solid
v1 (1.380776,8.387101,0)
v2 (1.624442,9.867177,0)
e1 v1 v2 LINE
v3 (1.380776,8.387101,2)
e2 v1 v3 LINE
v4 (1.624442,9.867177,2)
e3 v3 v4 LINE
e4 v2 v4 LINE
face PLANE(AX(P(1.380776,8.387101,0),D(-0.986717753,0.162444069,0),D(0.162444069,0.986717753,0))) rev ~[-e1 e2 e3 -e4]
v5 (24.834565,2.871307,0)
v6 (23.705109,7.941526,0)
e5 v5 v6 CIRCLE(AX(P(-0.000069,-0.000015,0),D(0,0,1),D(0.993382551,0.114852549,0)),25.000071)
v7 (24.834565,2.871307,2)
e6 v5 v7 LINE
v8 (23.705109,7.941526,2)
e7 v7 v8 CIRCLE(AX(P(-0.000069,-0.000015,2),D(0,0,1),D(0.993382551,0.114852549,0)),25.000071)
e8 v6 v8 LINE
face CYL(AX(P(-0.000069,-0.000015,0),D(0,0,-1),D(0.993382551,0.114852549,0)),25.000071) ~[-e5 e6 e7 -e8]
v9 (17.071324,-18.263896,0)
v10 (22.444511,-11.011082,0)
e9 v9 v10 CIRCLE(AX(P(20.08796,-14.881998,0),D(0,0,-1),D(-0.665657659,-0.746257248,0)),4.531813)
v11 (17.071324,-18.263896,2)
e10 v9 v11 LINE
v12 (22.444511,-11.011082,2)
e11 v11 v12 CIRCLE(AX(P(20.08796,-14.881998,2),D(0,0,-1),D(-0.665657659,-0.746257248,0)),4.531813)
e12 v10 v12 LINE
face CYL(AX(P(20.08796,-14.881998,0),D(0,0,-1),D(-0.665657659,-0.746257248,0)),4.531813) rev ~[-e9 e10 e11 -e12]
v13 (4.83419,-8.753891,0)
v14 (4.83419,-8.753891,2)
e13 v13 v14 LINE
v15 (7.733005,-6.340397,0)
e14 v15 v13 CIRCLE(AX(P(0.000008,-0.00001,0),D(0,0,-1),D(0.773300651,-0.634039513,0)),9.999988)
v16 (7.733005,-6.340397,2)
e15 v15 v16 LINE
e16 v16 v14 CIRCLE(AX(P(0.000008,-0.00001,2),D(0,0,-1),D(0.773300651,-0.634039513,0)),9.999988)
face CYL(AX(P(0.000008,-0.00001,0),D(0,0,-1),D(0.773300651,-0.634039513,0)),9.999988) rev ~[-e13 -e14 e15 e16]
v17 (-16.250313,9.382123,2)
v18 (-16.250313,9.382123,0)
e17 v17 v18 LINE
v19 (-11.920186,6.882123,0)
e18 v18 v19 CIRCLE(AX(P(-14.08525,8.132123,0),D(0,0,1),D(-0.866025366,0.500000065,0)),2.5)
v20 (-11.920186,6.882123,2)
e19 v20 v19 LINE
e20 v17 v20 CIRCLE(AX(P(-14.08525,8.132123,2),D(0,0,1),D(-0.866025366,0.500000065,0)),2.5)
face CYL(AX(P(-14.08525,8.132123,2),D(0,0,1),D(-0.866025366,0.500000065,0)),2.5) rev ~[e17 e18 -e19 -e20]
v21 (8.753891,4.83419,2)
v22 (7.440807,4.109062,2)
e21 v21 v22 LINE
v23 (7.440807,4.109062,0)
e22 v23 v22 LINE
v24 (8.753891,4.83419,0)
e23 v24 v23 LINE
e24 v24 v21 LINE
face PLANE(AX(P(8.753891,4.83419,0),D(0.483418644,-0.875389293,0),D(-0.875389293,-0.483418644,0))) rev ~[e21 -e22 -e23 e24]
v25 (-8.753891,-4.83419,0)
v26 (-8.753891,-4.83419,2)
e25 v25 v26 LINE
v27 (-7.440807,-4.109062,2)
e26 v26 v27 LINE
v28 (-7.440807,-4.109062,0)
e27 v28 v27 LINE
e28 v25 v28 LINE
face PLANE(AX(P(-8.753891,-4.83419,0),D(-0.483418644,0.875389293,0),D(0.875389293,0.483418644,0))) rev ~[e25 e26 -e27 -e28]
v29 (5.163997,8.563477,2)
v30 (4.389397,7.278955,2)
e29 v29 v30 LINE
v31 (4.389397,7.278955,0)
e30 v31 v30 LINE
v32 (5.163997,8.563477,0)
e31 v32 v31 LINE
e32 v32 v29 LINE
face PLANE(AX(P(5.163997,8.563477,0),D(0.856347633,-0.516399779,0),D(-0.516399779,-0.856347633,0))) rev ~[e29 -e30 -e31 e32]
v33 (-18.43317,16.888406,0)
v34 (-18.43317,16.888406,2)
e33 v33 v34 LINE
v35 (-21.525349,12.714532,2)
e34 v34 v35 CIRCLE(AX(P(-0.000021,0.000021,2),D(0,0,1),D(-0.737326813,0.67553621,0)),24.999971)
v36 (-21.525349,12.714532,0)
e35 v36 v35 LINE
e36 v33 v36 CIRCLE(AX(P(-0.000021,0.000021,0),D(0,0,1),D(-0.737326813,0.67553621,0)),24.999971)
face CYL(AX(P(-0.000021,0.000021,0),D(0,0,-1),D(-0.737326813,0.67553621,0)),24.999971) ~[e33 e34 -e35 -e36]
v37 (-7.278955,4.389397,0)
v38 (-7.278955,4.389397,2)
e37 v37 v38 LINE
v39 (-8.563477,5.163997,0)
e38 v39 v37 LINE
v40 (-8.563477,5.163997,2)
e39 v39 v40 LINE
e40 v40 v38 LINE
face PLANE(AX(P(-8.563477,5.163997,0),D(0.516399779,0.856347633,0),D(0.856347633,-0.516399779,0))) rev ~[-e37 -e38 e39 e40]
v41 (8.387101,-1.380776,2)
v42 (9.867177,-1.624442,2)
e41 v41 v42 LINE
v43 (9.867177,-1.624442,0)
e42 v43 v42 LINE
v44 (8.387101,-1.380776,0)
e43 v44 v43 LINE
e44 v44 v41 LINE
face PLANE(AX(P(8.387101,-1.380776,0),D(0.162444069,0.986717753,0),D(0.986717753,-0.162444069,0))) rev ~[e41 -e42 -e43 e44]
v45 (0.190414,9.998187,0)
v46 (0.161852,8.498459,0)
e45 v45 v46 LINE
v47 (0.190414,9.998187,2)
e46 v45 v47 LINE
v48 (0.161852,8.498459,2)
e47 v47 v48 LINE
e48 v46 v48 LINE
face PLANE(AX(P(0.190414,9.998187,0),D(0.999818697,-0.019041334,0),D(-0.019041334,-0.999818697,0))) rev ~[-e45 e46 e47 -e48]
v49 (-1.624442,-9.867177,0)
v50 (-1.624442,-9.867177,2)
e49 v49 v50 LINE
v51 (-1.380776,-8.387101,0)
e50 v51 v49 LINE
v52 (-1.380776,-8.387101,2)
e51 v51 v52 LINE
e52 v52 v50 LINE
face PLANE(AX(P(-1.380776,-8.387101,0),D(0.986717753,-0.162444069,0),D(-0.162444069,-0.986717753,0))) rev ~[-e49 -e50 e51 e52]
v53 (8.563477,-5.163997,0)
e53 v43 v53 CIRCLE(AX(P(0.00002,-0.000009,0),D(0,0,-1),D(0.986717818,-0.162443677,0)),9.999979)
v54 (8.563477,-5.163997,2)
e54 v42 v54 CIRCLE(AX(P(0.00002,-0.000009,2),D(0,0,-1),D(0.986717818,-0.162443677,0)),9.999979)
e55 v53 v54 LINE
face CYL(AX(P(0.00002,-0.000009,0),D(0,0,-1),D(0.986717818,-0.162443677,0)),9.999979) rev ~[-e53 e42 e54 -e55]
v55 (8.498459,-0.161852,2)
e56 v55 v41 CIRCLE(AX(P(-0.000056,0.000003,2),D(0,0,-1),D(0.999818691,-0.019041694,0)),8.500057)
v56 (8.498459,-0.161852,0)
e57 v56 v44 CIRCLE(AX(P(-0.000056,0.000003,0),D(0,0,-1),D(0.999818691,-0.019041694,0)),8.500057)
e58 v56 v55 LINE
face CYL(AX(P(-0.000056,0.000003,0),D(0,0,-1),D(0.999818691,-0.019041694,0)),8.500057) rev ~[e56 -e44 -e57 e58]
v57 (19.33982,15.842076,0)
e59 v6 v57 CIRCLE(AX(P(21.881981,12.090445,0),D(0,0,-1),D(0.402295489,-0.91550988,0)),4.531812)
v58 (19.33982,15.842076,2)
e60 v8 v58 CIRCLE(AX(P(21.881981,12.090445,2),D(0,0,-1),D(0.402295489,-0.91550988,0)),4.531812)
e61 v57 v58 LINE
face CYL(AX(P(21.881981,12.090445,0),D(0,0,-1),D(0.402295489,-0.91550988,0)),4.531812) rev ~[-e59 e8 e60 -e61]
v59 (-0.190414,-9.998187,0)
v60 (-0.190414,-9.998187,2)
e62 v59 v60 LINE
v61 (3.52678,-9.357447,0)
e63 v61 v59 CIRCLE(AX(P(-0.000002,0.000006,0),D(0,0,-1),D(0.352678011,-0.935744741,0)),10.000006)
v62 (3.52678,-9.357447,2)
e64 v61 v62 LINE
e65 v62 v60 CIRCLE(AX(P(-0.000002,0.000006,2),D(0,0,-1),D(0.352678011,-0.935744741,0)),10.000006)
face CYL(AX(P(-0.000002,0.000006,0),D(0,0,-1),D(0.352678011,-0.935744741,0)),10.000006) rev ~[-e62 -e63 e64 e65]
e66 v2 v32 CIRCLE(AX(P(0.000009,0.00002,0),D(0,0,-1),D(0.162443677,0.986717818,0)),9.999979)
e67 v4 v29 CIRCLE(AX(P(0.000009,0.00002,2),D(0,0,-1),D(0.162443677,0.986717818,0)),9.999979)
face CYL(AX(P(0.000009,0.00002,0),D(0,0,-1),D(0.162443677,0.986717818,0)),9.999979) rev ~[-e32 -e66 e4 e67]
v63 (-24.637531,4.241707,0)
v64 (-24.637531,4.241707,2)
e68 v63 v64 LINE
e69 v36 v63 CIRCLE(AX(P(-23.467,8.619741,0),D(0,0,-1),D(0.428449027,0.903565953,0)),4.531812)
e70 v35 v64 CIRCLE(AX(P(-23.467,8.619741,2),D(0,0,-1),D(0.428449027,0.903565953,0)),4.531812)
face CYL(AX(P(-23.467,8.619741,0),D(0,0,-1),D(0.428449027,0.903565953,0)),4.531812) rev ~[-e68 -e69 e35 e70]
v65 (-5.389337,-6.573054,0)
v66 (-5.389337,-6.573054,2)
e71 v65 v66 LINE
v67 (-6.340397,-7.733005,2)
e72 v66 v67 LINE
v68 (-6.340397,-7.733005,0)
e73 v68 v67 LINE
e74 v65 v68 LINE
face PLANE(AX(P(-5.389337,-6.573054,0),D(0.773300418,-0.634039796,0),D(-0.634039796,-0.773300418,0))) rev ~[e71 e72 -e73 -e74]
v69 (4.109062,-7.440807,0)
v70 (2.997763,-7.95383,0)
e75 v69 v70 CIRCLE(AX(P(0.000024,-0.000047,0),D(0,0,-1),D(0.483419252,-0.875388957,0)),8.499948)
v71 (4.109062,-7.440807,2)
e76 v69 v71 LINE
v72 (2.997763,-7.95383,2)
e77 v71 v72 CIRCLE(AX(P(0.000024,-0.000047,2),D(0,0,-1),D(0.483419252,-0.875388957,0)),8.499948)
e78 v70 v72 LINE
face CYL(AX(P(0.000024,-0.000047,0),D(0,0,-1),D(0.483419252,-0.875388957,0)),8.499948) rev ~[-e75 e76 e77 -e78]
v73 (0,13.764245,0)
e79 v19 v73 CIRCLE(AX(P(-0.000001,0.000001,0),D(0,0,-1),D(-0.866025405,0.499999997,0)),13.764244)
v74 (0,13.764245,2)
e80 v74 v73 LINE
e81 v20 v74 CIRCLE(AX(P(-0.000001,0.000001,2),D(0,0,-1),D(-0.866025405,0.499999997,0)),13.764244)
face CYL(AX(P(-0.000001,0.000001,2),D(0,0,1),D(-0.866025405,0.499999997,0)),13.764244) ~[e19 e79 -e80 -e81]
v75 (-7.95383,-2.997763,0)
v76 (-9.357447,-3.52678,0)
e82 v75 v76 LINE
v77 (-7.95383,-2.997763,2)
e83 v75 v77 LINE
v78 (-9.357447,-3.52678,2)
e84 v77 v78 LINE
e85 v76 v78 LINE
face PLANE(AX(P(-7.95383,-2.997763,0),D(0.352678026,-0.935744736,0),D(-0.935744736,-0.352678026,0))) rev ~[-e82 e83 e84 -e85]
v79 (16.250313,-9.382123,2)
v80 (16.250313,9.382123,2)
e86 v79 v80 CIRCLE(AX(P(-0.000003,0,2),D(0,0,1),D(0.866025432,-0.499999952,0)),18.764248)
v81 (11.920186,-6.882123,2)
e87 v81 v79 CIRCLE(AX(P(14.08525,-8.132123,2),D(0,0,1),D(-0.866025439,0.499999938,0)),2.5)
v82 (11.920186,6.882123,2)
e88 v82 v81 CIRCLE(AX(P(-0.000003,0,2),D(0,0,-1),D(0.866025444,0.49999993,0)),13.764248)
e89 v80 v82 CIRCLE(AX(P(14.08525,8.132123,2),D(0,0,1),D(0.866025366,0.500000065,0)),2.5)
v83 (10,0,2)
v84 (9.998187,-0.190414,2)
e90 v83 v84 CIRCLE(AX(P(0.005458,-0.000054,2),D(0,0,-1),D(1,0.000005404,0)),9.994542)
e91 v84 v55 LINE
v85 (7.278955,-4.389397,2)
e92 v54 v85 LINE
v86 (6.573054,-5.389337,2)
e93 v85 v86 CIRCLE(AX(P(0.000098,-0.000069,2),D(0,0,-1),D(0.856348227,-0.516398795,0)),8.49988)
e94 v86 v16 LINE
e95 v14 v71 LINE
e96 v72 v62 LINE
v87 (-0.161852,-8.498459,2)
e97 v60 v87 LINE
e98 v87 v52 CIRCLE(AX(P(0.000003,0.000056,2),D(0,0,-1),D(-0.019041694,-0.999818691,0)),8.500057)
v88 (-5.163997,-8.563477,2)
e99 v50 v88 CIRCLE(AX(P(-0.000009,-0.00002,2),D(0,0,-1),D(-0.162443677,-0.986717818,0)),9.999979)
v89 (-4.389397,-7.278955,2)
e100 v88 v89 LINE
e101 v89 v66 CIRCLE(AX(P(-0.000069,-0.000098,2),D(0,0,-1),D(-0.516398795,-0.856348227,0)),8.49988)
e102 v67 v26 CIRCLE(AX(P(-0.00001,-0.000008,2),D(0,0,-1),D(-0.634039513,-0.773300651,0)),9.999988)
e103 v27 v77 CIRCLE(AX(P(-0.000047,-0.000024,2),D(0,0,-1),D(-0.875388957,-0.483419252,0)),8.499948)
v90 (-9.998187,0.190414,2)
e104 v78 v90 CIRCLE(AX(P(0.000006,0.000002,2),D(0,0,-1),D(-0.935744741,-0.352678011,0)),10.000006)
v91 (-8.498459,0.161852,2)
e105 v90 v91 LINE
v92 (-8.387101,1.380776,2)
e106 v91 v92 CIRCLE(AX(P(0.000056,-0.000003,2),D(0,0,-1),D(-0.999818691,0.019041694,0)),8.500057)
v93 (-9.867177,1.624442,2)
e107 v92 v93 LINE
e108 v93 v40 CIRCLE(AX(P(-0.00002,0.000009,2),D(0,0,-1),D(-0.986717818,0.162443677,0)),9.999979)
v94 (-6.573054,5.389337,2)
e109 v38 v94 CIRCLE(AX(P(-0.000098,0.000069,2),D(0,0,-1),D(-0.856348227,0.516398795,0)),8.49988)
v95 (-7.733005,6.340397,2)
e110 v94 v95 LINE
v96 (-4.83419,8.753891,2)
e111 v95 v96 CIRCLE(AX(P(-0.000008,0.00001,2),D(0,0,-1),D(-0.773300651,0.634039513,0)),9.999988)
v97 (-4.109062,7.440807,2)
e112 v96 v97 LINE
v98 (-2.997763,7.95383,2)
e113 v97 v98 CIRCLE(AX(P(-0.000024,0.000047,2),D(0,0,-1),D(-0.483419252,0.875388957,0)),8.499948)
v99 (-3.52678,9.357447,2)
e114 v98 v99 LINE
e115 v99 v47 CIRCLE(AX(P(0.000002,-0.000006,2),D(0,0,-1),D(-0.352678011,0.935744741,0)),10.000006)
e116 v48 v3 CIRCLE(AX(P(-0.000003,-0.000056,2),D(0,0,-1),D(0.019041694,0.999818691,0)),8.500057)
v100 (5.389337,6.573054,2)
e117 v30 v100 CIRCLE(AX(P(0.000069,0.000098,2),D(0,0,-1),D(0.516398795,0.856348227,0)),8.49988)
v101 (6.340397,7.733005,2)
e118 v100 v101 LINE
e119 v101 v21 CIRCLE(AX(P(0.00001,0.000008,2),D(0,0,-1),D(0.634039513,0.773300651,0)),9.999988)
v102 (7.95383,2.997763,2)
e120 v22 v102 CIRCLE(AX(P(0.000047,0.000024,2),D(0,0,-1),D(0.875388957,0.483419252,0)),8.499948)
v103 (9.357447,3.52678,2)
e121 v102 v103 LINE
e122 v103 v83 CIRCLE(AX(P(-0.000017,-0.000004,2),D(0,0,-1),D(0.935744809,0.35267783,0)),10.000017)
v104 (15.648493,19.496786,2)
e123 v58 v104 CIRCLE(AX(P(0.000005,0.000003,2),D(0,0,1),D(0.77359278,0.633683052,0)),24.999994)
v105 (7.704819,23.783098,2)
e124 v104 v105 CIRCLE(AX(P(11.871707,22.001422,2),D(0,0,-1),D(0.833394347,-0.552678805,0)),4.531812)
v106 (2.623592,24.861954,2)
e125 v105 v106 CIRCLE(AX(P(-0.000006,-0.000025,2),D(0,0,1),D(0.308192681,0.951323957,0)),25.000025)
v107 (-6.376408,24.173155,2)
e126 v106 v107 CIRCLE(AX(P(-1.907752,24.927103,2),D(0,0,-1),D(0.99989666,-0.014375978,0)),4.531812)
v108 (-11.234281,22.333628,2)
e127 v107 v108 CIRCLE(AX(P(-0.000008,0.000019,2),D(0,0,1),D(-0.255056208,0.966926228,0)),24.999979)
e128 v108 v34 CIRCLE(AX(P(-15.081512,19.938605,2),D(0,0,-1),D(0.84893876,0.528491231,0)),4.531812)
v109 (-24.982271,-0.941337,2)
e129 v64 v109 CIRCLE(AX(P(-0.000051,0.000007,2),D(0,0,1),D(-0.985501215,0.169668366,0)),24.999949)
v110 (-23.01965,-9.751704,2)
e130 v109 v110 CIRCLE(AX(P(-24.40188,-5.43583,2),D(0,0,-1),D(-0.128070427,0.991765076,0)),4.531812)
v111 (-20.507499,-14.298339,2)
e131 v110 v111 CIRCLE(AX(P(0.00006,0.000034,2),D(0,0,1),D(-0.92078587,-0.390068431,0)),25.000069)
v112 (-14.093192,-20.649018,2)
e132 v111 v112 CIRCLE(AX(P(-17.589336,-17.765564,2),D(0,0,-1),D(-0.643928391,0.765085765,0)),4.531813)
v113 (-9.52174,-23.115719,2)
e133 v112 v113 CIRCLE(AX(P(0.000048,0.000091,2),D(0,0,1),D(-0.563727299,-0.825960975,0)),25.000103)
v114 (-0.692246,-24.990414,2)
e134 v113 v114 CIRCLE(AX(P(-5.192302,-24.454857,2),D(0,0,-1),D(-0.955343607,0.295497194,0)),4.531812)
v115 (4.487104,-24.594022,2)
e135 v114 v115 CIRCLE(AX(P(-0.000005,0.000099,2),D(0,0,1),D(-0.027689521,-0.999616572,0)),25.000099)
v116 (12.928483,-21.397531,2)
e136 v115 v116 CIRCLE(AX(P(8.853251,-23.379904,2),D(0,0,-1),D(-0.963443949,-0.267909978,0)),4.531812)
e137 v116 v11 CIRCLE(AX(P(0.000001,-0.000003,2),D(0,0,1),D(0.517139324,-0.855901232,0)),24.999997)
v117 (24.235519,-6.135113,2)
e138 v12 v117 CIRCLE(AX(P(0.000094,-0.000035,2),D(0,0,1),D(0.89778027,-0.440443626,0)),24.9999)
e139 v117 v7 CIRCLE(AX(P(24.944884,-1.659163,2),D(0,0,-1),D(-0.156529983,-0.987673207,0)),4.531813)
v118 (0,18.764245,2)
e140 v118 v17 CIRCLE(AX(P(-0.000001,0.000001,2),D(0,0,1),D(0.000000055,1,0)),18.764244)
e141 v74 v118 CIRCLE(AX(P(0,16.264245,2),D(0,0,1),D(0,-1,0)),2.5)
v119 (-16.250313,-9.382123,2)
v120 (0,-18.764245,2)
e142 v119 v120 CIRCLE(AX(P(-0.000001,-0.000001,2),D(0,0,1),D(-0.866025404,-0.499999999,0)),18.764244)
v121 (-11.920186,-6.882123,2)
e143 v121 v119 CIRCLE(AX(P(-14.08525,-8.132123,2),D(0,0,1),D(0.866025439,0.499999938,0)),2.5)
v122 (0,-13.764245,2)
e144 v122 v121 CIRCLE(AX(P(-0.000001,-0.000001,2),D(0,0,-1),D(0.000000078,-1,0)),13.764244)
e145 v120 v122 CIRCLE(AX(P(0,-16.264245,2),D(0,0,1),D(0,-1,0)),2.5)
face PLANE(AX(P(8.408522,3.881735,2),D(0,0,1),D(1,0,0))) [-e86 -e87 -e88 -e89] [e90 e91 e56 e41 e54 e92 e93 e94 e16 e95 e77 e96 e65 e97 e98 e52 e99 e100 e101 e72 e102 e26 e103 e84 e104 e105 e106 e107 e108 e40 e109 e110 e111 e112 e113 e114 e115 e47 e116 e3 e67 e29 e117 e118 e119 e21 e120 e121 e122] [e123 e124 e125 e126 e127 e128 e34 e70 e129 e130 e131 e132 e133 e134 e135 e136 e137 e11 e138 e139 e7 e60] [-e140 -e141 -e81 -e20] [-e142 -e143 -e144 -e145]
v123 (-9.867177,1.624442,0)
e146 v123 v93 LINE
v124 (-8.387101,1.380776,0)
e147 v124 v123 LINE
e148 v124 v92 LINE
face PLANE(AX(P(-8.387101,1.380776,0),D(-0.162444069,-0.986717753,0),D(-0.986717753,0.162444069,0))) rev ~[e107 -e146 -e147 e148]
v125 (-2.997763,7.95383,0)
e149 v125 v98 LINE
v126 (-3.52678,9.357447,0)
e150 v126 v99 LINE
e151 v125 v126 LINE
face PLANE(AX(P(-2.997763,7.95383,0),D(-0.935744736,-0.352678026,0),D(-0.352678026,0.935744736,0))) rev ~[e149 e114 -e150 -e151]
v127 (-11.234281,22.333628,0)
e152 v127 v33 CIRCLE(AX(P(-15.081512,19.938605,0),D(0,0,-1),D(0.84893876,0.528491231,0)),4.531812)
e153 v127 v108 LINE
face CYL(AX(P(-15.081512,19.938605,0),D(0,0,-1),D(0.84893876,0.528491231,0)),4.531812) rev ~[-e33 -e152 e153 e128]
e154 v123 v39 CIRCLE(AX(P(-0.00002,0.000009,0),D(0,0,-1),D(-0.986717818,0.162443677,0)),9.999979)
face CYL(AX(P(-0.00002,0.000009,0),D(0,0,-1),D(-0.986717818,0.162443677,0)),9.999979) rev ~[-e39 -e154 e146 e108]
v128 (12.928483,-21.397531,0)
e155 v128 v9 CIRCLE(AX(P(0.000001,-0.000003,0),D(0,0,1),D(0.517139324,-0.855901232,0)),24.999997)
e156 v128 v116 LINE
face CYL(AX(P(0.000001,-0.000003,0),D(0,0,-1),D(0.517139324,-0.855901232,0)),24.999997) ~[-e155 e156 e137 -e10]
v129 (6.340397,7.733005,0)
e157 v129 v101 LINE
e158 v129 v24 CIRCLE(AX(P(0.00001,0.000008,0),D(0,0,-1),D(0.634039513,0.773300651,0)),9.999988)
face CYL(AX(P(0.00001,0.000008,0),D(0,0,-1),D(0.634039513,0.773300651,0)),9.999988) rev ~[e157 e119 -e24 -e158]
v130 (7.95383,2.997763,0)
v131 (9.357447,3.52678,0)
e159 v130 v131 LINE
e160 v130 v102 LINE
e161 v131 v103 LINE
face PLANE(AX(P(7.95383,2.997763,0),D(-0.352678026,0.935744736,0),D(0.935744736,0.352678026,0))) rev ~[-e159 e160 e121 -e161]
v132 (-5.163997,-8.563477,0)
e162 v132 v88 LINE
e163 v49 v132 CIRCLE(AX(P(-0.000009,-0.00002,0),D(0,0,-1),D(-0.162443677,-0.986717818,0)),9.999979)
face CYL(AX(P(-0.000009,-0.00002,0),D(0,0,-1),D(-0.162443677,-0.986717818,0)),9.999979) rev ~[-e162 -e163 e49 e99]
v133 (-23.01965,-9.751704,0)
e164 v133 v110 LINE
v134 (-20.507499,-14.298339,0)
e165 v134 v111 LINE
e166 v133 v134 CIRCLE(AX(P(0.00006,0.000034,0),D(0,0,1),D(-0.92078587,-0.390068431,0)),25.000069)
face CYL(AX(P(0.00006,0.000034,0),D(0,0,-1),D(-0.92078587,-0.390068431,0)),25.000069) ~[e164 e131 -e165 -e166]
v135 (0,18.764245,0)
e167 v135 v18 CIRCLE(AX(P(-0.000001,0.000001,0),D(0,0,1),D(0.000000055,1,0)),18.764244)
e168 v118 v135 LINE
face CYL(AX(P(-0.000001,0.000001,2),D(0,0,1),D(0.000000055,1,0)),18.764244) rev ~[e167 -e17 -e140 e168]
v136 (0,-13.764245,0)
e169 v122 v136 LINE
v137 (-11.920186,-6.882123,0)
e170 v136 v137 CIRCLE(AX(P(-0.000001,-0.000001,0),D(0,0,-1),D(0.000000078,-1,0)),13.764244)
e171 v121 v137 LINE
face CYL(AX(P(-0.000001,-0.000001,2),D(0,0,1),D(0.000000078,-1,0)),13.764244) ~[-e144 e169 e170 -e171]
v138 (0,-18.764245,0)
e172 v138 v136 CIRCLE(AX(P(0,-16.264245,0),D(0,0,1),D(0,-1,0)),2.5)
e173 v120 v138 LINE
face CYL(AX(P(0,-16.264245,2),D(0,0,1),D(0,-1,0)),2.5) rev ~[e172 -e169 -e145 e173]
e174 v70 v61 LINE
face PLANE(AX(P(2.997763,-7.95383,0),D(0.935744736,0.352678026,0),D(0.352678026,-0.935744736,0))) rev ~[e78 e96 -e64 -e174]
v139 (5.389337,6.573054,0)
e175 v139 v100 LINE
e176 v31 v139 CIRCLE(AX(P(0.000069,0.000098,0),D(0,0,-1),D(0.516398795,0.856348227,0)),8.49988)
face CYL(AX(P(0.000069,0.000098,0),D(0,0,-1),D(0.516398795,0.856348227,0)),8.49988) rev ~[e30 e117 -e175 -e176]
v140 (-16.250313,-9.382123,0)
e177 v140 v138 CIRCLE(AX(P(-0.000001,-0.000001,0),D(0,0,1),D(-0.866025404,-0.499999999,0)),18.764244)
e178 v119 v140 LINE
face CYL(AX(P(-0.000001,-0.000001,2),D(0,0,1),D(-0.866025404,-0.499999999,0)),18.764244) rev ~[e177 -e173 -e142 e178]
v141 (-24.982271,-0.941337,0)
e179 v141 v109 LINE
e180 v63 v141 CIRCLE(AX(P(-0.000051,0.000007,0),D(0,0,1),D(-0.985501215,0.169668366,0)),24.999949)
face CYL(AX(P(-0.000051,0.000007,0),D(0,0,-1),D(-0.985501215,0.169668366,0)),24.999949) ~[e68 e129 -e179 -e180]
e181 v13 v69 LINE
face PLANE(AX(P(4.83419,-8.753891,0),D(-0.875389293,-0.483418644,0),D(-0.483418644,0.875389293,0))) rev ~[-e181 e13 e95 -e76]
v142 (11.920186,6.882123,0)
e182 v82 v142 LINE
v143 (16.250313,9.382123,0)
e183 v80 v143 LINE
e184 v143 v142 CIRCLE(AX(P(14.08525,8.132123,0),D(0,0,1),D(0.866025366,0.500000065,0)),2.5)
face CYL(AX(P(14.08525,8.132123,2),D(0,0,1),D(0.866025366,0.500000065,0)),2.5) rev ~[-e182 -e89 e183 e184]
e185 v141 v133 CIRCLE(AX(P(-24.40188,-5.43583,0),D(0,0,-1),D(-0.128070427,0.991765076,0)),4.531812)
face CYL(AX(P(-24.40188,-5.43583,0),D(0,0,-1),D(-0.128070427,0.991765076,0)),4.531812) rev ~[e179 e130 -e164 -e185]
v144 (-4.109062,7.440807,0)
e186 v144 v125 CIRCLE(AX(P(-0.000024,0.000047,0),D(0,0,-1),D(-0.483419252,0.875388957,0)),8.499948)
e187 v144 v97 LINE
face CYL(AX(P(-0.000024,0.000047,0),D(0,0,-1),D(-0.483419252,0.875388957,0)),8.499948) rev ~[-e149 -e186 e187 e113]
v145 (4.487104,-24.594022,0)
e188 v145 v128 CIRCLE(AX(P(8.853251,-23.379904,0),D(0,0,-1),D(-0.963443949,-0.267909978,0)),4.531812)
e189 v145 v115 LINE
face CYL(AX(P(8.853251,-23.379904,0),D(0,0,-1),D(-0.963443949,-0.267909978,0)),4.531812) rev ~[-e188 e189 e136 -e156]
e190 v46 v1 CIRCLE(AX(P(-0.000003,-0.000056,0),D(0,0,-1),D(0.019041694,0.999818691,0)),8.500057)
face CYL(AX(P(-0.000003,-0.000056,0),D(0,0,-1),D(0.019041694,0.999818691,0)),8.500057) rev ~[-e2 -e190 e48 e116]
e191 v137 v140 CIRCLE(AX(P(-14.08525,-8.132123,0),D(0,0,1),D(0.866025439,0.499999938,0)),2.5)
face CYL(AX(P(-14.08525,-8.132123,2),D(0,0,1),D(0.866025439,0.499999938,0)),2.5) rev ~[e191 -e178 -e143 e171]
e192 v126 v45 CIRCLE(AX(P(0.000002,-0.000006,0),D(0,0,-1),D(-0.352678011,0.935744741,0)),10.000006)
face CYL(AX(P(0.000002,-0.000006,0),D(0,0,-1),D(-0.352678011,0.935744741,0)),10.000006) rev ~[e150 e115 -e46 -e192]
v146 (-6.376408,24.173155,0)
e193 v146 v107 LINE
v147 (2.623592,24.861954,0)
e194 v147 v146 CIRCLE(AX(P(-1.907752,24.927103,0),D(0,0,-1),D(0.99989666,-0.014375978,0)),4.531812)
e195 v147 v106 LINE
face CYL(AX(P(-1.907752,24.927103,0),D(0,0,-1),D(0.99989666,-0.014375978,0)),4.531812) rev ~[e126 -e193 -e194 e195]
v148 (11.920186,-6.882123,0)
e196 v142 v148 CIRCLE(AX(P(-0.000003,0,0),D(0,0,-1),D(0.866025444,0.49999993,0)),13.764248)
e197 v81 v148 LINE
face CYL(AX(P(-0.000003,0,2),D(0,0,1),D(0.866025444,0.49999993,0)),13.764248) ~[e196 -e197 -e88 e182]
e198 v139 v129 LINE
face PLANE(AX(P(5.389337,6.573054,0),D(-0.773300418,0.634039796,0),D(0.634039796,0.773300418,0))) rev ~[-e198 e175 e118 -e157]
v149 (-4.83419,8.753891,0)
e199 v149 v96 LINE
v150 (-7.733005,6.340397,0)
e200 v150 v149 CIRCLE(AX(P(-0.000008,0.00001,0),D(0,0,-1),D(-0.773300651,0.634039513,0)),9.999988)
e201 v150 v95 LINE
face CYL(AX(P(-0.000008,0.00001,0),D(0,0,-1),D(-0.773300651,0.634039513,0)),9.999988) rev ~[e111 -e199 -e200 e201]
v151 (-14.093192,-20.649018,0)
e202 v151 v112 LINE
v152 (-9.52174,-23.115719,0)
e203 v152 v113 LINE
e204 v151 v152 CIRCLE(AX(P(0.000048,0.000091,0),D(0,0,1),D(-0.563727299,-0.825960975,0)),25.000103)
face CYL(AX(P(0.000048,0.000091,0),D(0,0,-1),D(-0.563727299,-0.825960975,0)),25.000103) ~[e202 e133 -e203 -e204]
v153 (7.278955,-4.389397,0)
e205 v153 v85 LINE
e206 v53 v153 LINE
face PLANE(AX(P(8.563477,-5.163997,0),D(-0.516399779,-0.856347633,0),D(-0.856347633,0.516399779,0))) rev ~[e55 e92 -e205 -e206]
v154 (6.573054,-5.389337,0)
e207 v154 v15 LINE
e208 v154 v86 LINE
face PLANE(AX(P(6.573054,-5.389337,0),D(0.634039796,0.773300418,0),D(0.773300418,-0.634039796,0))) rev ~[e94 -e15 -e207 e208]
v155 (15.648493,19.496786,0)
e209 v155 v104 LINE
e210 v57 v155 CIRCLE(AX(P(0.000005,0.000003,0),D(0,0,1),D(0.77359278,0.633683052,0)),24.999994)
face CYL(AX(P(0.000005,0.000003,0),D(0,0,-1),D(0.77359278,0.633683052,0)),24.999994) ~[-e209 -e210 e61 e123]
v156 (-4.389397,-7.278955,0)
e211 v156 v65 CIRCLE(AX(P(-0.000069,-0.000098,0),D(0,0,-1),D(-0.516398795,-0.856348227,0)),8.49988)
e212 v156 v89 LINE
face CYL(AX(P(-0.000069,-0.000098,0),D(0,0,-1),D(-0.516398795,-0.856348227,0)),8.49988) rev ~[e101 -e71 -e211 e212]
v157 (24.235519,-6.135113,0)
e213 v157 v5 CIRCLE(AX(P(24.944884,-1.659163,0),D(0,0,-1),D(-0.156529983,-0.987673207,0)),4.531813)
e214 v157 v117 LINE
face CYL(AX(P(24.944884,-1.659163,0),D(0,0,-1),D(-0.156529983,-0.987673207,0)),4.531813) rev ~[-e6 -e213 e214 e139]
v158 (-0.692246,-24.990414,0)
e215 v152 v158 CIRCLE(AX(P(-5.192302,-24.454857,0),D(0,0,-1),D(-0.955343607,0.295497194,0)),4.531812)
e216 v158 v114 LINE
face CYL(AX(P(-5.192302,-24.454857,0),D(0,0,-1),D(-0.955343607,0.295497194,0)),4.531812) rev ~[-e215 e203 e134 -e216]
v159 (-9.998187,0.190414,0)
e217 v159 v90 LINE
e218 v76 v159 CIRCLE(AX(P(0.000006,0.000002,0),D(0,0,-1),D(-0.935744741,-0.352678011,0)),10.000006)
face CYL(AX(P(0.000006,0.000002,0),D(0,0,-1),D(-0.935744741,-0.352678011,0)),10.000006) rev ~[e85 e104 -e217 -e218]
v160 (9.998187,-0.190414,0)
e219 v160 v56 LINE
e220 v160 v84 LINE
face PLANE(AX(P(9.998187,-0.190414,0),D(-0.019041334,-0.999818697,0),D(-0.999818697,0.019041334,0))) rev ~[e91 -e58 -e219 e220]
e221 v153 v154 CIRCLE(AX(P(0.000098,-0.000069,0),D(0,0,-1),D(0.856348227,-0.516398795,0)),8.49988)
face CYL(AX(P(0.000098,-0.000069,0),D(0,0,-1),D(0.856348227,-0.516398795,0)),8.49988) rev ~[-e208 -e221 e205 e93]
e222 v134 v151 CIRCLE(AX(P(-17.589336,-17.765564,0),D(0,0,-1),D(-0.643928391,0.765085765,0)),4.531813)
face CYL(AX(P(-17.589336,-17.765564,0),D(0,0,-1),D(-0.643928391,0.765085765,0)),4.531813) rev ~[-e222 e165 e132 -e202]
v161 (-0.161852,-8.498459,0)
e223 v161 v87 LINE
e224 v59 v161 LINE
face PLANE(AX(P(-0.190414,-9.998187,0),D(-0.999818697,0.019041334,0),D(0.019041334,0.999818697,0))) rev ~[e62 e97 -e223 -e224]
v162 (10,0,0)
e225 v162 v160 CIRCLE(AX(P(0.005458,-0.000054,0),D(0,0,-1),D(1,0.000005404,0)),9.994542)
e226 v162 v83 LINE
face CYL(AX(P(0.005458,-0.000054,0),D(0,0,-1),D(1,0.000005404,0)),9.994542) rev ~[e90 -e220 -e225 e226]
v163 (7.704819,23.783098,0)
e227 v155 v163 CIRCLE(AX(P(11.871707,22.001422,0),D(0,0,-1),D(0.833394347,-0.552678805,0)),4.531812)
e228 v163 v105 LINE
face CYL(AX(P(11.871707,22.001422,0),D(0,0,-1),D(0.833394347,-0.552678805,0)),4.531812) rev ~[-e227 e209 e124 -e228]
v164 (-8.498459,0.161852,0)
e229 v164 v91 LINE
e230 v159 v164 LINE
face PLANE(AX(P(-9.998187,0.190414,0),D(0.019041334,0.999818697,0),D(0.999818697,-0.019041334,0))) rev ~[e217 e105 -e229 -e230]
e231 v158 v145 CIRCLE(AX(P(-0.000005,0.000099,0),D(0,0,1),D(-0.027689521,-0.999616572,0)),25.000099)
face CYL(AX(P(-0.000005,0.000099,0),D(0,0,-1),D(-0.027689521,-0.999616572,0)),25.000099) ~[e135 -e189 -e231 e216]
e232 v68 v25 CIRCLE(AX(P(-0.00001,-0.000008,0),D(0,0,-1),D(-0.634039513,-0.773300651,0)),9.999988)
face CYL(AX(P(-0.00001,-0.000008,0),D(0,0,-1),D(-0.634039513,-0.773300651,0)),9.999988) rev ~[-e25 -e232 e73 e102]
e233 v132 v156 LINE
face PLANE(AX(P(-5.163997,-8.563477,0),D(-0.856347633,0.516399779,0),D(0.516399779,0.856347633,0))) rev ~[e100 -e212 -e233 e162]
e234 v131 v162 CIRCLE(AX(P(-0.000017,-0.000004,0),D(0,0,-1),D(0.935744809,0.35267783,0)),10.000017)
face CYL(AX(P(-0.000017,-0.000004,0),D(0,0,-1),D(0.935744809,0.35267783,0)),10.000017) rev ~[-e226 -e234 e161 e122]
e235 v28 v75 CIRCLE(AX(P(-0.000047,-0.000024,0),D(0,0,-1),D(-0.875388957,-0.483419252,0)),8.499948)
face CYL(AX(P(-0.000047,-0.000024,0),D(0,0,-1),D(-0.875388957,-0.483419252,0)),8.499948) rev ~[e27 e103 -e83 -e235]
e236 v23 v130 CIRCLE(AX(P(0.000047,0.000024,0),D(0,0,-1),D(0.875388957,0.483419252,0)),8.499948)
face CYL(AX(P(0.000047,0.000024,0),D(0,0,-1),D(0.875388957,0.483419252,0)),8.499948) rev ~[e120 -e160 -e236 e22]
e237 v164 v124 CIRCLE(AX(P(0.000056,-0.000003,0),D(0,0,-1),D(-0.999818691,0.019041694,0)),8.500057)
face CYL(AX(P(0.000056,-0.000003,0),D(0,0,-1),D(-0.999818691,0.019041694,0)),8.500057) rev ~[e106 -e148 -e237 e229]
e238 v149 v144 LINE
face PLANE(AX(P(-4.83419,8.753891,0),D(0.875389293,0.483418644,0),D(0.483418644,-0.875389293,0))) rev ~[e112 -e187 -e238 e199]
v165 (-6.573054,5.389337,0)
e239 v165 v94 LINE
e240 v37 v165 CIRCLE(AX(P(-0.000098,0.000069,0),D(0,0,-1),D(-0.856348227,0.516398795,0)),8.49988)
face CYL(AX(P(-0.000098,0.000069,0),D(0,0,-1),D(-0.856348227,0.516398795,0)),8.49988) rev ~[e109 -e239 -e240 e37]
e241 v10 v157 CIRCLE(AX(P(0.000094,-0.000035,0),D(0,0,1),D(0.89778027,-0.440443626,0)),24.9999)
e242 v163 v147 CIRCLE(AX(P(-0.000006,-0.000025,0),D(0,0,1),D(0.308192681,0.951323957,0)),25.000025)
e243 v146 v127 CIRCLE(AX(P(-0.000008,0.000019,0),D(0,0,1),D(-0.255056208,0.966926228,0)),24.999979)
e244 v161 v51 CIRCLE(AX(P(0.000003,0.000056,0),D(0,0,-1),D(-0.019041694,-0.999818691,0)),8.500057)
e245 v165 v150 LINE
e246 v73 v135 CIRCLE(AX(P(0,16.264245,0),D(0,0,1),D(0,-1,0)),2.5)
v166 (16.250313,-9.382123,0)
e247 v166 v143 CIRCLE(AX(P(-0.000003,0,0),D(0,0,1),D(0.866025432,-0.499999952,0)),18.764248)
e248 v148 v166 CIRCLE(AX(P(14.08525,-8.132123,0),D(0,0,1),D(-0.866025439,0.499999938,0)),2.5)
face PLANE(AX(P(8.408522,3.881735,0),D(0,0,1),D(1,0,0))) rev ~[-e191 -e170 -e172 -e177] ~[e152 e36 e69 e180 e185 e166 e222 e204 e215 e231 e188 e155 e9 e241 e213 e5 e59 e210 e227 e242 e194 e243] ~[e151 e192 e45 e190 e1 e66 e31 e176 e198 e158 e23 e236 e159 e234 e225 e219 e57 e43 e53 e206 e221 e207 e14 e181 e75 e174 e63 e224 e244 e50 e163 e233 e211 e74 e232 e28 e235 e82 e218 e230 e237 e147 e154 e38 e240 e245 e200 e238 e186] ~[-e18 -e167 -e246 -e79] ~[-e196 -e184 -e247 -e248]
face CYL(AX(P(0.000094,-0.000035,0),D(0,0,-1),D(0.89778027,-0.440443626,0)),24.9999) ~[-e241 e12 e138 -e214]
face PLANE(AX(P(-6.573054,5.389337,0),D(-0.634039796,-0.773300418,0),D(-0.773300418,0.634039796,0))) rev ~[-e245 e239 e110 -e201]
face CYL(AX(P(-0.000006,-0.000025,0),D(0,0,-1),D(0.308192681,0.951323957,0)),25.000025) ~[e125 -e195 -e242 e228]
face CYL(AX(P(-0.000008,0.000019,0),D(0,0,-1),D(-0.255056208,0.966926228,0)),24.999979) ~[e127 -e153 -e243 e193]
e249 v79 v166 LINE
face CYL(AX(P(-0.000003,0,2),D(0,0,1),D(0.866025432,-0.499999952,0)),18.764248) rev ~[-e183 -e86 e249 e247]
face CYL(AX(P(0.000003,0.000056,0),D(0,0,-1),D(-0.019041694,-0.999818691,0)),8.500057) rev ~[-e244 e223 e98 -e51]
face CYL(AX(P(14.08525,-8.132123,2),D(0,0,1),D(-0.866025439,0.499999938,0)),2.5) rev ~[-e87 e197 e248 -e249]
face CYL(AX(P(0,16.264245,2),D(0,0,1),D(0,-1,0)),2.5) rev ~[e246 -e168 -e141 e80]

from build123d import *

# Parameters (mm, degrees)
F1_DEPTH = 2
F2_DEPTH = 2
F4_DEPTH = 2


with BuildPart() as f1:
    # F0 (on Top) → F1 (new body)
    with BuildSketch(Plane.XY):
        with BuildLine():
            ThreePointArc((24.235519, -6.135113), (20.423062, -1.358402), (24.834565, 2.871307))
            ThreePointArc((24.834565, 2.871307), (24.40188, 5.435831), (23.705109, 7.941526))
            ThreePointArc((23.705109, 7.941526), (17.91538, 9.89878), (19.33982, 15.842076))
            ThreePointArc((19.33982, 15.842076), (17.589336, 17.765564), (15.648493, 19.496786))
            ThreePointArc((15.648493, 19.496786), (9.719693, 18.01317), (7.704819, 23.783098))
            ThreePointArc((7.704819, 23.783098), (5.192302, 24.454856), (2.623592, 24.861954))
            ThreePointArc((2.623592, 24.861954), (-1.561929, 20.408505), (-6.376408, 24.173155))
            ThreePointArc((-6.376408, 24.173155), (-8.853251, 23.379905), (-11.234281, 22.333628))
            ThreePointArc((-11.234281, 22.333628), (-12.347649, 16.324284), (-18.43317, 16.888406))
            ThreePointArc((-18.43317, 16.888406), (-20.08796, 14.881998), (-21.525349, 12.714532))
            ThreePointArc((-21.525349, 12.714532), (-19.213078, 7.057219), (-24.637531, 4.241707))
            ThreePointArc((-24.637531, 4.241707), (-24.944883, 1.659163), (-24.982271, -0.941337))
            ThreePointArc((-24.982271, -0.941337), (-19.97849, -4.450464), (-23.01965, -9.751704))
            ThreePointArc((-23.01965, -9.751704), (-21.881982, -12.090445), (-20.507499, -14.298339))
            ThreePointArc((-20.507499, -14.298339), (-14.400873, -14.545156), (-14.093192, -20.649018))
            ThreePointArc((-14.093192, -20.649018), (-11.871706, -22.001422), (-9.52174, -23.115719))
            ThreePointArc((-9.52174, -23.115719), (-4.25108, -20.021864), (-0.692246, -24.990414))
            ThreePointArc((-0.692246, -24.990414), (1.907752, -24.927103), (4.487104, -24.594022))
            ThreePointArc((4.487104, -24.594022), (7.2484, -19.141771), (12.928483, -21.397531))
            ThreePointArc((12.928483, -21.397531), (15.081513, -19.938605), (17.071324, -18.263896))
            ThreePointArc((17.071324, -18.263896), (16.446565, -12.184301), (22.444511, -11.011082))
            ThreePointArc((22.444511, -11.011082), (23.467, -8.619741), (24.235519, -6.135113))
        make_face()
        with BuildLine():
            ThreePointArc((9.357447, 3.52678), (9.83805, 1.792418), (10, 0))
            ThreePointArc((10, 0), (9.999547, -0.095211), (9.998187, -0.190414))
            ThreePointArc((9.998187, -0.190414), (9.958528, -0.909789), (9.867177, -1.624442))
            ThreePointArc((9.867177, -1.624442), (9.383729, -3.456246), (8.563477, -5.163997))
            ThreePointArc((8.563477, -5.163997), (8.169444, -5.767165), (7.733005, -6.340397))
            ThreePointArc((7.733005, -6.340397), (6.398425, -7.685061), (4.83419, -8.753891))
            ThreePointArc((4.83419, -8.753891), (4.191363, -9.079233), (3.52678, -9.357447))
            ThreePointArc((3.52678, -9.357447), (1.698668, -9.85467), (-0.190414, -9.998187))
            ThreePointArc((-0.190414, -9.998187), (-0.909789, -9.958528), (-1.624442, -9.867177))
            ThreePointArc((-1.624442, -9.867177), (-3.456246, -9.383729), (-5.163997, -8.563477))
            ThreePointArc((-5.163997, -8.563477), (-5.767165, -8.169444), (-6.340397, -7.733005))
            ThreePointArc((-6.340397, -7.733005), (-7.685061, -6.398425), (-8.753891, -4.83419))
            ThreePointArc((-8.753891, -4.83419), (-9.079233, -4.191363), (-9.357447, -3.52678))
            ThreePointArc((-9.357447, -3.52678), (-9.85467, -1.698668), (-9.998187, 0.190414))
            ThreePointArc((-9.998187, 0.190414), (-9.958528, 0.909789), (-9.867177, 1.624442))
            ThreePointArc((-9.867177, 1.624442), (-9.383729, 3.456246), (-8.563477, 5.163997))
            ThreePointArc((-8.563477, 5.163997), (-8.169444, 5.767165), (-7.733005, 6.340397))
            ThreePointArc((-7.733005, 6.340397), (-6.398425, 7.685061), (-4.83419, 8.753891))
            ThreePointArc((-4.83419, 8.753891), (-4.191363, 9.079233), (-3.52678, 9.357447))
            ThreePointArc((-3.52678, 9.357447), (-1.698668, 9.85467), (0.190414, 9.998187))
            ThreePointArc((0.190414, 9.998187), (0.909789, 9.958528), (1.624442, 9.867177))
            ThreePointArc((1.624442, 9.867177), (3.456246, 9.383729), (5.163997, 8.563477))
            ThreePointArc((5.163997, 8.563477), (5.767165, 8.169444), (6.340397, 7.733005))
            ThreePointArc((6.340397, 7.733005), (7.685061, 6.398425), (8.753891, 4.83419))
            ThreePointArc((8.753891, 4.83419), (9.079233, 4.191363), (9.357447, 3.52678))
        make_face(mode=Mode.SUBTRACT)
    extrude(amount=F1_DEPTH)

    # F0 (on Top) → F2 (join)
    with BuildSketch(Plane.XY):
        with BuildLine():
            Line((7.95383, 2.997763), (9.357447, 3.52678))
            ThreePointArc((9.357447, 3.52678), (9.079233, 4.191363), (8.753891, 4.83419))
            Line((8.753891, 4.83419), (7.440807, 4.109062))
            ThreePointArc((7.440807, 4.109062), (7.717348, 3.562659), (7.95383, 2.997763))
        make_face()
        with BuildLine():
            Line((5.389337, 6.573054), (6.340397, 7.733005))
            ThreePointArc((6.340397, 7.733005), (5.767165, 8.169444), (5.163997, 8.563477))
            Line((5.163997, 8.563477), (4.389397, 7.278955))
            ThreePointArc((4.389397, 7.278955), (4.90209, 6.944027), (5.389337, 6.573054))
        make_face()
        with BuildLine():
            Line((1.380776, 8.387101), (1.624442, 9.867177))
            ThreePointArc((1.624442, 9.867177), (0.909789, 9.958528), (0.190414, 9.998187))
            Line((0.190414, 9.998187), (0.161852, 8.498459))
            ThreePointArc((0.161852, 8.498459), (0.773321, 8.464749), (1.380776, 8.387101))
        make_face()
        with BuildLine():
            ThreePointArc((9.867177, -1.624442), (9.958528, -0.909789), (9.998187, -0.190414))
            Line((9.998187, -0.190414), (8.498459, -0.161852))
            ThreePointArc((8.498459, -0.161852), (8.464749, -0.773321), (8.387101, -1.380776))
            Line((8.387101, -1.380776), (9.867177, -1.624442))
        make_face()
        with BuildLine():
            ThreePointArc((7.733005, -6.340397), (8.169444, -5.767165), (8.563477, -5.163997))
            Line((8.563477, -5.163997), (7.278955, -4.389397))
            ThreePointArc((7.278955, -4.389397), (6.944027, -4.90209), (6.573054, -5.389337))
            Line((6.573054, -5.389337), (7.733005, -6.340397))
        make_face()
        with BuildLine():
            ThreePointArc((3.52678, -9.357447), (4.191363, -9.079233), (4.83419, -8.753891))
            Line((4.83419, -8.753891), (4.109062, -7.440807))
            ThreePointArc((4.109062, -7.440807), (3.562659, -7.717348), (2.997763, -7.95383))
            Line((2.997763, -7.95383), (3.52678, -9.357447))
        make_face()
        with BuildLine():
            ThreePointArc((-1.624442, -9.867177), (-0.909789, -9.958528), (-0.190414, -9.998187))
            Line((-0.190414, -9.998187), (-0.161852, -8.498459))
            ThreePointArc((-0.161852, -8.498459), (-0.773321, -8.464749), (-1.380776, -8.387101))
            Line((-1.380776, -8.387101), (-1.624442, -9.867177))
        make_face()
        with BuildLine():
            ThreePointArc((-6.340397, -7.733005), (-5.767165, -8.169444), (-5.163997, -8.563477))
            Line((-5.163997, -8.563477), (-4.389397, -7.278955))
            ThreePointArc((-4.389397, -7.278955), (-4.90209, -6.944027), (-5.389337, -6.573054))
            Line((-5.389337, -6.573054), (-6.340397, -7.733005))
        make_face()
        with BuildLine():
            ThreePointArc((-9.357447, -3.52678), (-9.079233, -4.191363), (-8.753891, -4.83419))
            Line((-8.753891, -4.83419), (-7.440807, -4.109062))
            ThreePointArc((-7.440807, -4.109062), (-7.717348, -3.562659), (-7.95383, -2.997763))
            Line((-7.95383, -2.997763), (-9.357447, -3.52678))
        make_face()
        with BuildLine():
            Line((-8.387101, 1.380776), (-9.867177, 1.624442))
            ThreePointArc((-9.867177, 1.624442), (-9.958528, 0.909789), (-9.998187, 0.190414))
            Line((-9.998187, 0.190414), (-8.498459, 0.161852))
            ThreePointArc((-8.498459, 0.161852), (-8.464749, 0.773321), (-8.387101, 1.380776))
        make_face()
        with BuildLine():
            Line((-6.573054, 5.389337), (-7.733005, 6.340397))
            ThreePointArc((-7.733005, 6.340397), (-8.169444, 5.767165), (-8.563477, 5.163997))
            Line((-8.563477, 5.163997), (-7.278955, 4.389397))
            ThreePointArc((-7.278955, 4.389397), (-6.944027, 4.90209), (-6.573054, 5.389337))
        make_face()
        with BuildLine():
            Line((-2.997763, 7.95383), (-3.52678, 9.357447))
            ThreePointArc((-3.52678, 9.357447), (-4.191363, 9.079233), (-4.83419, 8.753891))
            Line((-4.83419, 8.753891), (-4.109062, 7.440807))
            ThreePointArc((-4.109062, 7.440807), (-3.562659, 7.717348), (-2.997763, 7.95383))
        make_face()
    extrude(amount=F2_DEPTH)

    # F3 (on face) → F4 (cut)
    with BuildSketch(Plane.XY.offset(2)):
        with BuildLine():
            ThreePointArc((-11.920186, 6.882123), (-6.882123, 11.920186), (0, 13.764245))
            ThreePointArc((0, 13.764245), (2.5, 16.264245), (0, 18.764245))
            ThreePointArc((0, 18.764245), (-9.382123, 16.250313), (-16.250313, 9.382123))
            ThreePointArc((-16.250313, 9.382123), (-15.335249, 5.967059), (-11.920186, 6.882123))
        make_face()
        with BuildLine():
            ThreePointArc((0, -13.764245), (-6.882123, -11.920186), (-11.920186, -6.882123))
            ThreePointArc((-11.920186, -6.882123), (-15.335249, -5.967059), (-16.250313, -9.382123))
            ThreePointArc((-16.250313, -9.382123), (-9.382123, -16.250313), (0, -18.764245))
            ThreePointArc((0, -18.764245), (2.5, -16.264245), (0, -13.764245))
        make_face()
        with BuildLine():
            ThreePointArc((11.920186, 6.882123), (13.764245, 0), (11.920186, -6.882123))
            ThreePointArc((11.920186, -6.882123), (12.835249, -10.297186), (16.250313, -9.382123))
            ThreePointArc((16.250313, -9.382123), (18.764245, 0), (16.250313, 9.382123))
            ThreePointArc((16.250313, 9.382123), (12.835249, 10.297186), (11.920186, 6.882123))
        make_face()
    extrude(amount=-F4_DEPTH, mode=Mode.SUBTRACT)


solid = f1.part
